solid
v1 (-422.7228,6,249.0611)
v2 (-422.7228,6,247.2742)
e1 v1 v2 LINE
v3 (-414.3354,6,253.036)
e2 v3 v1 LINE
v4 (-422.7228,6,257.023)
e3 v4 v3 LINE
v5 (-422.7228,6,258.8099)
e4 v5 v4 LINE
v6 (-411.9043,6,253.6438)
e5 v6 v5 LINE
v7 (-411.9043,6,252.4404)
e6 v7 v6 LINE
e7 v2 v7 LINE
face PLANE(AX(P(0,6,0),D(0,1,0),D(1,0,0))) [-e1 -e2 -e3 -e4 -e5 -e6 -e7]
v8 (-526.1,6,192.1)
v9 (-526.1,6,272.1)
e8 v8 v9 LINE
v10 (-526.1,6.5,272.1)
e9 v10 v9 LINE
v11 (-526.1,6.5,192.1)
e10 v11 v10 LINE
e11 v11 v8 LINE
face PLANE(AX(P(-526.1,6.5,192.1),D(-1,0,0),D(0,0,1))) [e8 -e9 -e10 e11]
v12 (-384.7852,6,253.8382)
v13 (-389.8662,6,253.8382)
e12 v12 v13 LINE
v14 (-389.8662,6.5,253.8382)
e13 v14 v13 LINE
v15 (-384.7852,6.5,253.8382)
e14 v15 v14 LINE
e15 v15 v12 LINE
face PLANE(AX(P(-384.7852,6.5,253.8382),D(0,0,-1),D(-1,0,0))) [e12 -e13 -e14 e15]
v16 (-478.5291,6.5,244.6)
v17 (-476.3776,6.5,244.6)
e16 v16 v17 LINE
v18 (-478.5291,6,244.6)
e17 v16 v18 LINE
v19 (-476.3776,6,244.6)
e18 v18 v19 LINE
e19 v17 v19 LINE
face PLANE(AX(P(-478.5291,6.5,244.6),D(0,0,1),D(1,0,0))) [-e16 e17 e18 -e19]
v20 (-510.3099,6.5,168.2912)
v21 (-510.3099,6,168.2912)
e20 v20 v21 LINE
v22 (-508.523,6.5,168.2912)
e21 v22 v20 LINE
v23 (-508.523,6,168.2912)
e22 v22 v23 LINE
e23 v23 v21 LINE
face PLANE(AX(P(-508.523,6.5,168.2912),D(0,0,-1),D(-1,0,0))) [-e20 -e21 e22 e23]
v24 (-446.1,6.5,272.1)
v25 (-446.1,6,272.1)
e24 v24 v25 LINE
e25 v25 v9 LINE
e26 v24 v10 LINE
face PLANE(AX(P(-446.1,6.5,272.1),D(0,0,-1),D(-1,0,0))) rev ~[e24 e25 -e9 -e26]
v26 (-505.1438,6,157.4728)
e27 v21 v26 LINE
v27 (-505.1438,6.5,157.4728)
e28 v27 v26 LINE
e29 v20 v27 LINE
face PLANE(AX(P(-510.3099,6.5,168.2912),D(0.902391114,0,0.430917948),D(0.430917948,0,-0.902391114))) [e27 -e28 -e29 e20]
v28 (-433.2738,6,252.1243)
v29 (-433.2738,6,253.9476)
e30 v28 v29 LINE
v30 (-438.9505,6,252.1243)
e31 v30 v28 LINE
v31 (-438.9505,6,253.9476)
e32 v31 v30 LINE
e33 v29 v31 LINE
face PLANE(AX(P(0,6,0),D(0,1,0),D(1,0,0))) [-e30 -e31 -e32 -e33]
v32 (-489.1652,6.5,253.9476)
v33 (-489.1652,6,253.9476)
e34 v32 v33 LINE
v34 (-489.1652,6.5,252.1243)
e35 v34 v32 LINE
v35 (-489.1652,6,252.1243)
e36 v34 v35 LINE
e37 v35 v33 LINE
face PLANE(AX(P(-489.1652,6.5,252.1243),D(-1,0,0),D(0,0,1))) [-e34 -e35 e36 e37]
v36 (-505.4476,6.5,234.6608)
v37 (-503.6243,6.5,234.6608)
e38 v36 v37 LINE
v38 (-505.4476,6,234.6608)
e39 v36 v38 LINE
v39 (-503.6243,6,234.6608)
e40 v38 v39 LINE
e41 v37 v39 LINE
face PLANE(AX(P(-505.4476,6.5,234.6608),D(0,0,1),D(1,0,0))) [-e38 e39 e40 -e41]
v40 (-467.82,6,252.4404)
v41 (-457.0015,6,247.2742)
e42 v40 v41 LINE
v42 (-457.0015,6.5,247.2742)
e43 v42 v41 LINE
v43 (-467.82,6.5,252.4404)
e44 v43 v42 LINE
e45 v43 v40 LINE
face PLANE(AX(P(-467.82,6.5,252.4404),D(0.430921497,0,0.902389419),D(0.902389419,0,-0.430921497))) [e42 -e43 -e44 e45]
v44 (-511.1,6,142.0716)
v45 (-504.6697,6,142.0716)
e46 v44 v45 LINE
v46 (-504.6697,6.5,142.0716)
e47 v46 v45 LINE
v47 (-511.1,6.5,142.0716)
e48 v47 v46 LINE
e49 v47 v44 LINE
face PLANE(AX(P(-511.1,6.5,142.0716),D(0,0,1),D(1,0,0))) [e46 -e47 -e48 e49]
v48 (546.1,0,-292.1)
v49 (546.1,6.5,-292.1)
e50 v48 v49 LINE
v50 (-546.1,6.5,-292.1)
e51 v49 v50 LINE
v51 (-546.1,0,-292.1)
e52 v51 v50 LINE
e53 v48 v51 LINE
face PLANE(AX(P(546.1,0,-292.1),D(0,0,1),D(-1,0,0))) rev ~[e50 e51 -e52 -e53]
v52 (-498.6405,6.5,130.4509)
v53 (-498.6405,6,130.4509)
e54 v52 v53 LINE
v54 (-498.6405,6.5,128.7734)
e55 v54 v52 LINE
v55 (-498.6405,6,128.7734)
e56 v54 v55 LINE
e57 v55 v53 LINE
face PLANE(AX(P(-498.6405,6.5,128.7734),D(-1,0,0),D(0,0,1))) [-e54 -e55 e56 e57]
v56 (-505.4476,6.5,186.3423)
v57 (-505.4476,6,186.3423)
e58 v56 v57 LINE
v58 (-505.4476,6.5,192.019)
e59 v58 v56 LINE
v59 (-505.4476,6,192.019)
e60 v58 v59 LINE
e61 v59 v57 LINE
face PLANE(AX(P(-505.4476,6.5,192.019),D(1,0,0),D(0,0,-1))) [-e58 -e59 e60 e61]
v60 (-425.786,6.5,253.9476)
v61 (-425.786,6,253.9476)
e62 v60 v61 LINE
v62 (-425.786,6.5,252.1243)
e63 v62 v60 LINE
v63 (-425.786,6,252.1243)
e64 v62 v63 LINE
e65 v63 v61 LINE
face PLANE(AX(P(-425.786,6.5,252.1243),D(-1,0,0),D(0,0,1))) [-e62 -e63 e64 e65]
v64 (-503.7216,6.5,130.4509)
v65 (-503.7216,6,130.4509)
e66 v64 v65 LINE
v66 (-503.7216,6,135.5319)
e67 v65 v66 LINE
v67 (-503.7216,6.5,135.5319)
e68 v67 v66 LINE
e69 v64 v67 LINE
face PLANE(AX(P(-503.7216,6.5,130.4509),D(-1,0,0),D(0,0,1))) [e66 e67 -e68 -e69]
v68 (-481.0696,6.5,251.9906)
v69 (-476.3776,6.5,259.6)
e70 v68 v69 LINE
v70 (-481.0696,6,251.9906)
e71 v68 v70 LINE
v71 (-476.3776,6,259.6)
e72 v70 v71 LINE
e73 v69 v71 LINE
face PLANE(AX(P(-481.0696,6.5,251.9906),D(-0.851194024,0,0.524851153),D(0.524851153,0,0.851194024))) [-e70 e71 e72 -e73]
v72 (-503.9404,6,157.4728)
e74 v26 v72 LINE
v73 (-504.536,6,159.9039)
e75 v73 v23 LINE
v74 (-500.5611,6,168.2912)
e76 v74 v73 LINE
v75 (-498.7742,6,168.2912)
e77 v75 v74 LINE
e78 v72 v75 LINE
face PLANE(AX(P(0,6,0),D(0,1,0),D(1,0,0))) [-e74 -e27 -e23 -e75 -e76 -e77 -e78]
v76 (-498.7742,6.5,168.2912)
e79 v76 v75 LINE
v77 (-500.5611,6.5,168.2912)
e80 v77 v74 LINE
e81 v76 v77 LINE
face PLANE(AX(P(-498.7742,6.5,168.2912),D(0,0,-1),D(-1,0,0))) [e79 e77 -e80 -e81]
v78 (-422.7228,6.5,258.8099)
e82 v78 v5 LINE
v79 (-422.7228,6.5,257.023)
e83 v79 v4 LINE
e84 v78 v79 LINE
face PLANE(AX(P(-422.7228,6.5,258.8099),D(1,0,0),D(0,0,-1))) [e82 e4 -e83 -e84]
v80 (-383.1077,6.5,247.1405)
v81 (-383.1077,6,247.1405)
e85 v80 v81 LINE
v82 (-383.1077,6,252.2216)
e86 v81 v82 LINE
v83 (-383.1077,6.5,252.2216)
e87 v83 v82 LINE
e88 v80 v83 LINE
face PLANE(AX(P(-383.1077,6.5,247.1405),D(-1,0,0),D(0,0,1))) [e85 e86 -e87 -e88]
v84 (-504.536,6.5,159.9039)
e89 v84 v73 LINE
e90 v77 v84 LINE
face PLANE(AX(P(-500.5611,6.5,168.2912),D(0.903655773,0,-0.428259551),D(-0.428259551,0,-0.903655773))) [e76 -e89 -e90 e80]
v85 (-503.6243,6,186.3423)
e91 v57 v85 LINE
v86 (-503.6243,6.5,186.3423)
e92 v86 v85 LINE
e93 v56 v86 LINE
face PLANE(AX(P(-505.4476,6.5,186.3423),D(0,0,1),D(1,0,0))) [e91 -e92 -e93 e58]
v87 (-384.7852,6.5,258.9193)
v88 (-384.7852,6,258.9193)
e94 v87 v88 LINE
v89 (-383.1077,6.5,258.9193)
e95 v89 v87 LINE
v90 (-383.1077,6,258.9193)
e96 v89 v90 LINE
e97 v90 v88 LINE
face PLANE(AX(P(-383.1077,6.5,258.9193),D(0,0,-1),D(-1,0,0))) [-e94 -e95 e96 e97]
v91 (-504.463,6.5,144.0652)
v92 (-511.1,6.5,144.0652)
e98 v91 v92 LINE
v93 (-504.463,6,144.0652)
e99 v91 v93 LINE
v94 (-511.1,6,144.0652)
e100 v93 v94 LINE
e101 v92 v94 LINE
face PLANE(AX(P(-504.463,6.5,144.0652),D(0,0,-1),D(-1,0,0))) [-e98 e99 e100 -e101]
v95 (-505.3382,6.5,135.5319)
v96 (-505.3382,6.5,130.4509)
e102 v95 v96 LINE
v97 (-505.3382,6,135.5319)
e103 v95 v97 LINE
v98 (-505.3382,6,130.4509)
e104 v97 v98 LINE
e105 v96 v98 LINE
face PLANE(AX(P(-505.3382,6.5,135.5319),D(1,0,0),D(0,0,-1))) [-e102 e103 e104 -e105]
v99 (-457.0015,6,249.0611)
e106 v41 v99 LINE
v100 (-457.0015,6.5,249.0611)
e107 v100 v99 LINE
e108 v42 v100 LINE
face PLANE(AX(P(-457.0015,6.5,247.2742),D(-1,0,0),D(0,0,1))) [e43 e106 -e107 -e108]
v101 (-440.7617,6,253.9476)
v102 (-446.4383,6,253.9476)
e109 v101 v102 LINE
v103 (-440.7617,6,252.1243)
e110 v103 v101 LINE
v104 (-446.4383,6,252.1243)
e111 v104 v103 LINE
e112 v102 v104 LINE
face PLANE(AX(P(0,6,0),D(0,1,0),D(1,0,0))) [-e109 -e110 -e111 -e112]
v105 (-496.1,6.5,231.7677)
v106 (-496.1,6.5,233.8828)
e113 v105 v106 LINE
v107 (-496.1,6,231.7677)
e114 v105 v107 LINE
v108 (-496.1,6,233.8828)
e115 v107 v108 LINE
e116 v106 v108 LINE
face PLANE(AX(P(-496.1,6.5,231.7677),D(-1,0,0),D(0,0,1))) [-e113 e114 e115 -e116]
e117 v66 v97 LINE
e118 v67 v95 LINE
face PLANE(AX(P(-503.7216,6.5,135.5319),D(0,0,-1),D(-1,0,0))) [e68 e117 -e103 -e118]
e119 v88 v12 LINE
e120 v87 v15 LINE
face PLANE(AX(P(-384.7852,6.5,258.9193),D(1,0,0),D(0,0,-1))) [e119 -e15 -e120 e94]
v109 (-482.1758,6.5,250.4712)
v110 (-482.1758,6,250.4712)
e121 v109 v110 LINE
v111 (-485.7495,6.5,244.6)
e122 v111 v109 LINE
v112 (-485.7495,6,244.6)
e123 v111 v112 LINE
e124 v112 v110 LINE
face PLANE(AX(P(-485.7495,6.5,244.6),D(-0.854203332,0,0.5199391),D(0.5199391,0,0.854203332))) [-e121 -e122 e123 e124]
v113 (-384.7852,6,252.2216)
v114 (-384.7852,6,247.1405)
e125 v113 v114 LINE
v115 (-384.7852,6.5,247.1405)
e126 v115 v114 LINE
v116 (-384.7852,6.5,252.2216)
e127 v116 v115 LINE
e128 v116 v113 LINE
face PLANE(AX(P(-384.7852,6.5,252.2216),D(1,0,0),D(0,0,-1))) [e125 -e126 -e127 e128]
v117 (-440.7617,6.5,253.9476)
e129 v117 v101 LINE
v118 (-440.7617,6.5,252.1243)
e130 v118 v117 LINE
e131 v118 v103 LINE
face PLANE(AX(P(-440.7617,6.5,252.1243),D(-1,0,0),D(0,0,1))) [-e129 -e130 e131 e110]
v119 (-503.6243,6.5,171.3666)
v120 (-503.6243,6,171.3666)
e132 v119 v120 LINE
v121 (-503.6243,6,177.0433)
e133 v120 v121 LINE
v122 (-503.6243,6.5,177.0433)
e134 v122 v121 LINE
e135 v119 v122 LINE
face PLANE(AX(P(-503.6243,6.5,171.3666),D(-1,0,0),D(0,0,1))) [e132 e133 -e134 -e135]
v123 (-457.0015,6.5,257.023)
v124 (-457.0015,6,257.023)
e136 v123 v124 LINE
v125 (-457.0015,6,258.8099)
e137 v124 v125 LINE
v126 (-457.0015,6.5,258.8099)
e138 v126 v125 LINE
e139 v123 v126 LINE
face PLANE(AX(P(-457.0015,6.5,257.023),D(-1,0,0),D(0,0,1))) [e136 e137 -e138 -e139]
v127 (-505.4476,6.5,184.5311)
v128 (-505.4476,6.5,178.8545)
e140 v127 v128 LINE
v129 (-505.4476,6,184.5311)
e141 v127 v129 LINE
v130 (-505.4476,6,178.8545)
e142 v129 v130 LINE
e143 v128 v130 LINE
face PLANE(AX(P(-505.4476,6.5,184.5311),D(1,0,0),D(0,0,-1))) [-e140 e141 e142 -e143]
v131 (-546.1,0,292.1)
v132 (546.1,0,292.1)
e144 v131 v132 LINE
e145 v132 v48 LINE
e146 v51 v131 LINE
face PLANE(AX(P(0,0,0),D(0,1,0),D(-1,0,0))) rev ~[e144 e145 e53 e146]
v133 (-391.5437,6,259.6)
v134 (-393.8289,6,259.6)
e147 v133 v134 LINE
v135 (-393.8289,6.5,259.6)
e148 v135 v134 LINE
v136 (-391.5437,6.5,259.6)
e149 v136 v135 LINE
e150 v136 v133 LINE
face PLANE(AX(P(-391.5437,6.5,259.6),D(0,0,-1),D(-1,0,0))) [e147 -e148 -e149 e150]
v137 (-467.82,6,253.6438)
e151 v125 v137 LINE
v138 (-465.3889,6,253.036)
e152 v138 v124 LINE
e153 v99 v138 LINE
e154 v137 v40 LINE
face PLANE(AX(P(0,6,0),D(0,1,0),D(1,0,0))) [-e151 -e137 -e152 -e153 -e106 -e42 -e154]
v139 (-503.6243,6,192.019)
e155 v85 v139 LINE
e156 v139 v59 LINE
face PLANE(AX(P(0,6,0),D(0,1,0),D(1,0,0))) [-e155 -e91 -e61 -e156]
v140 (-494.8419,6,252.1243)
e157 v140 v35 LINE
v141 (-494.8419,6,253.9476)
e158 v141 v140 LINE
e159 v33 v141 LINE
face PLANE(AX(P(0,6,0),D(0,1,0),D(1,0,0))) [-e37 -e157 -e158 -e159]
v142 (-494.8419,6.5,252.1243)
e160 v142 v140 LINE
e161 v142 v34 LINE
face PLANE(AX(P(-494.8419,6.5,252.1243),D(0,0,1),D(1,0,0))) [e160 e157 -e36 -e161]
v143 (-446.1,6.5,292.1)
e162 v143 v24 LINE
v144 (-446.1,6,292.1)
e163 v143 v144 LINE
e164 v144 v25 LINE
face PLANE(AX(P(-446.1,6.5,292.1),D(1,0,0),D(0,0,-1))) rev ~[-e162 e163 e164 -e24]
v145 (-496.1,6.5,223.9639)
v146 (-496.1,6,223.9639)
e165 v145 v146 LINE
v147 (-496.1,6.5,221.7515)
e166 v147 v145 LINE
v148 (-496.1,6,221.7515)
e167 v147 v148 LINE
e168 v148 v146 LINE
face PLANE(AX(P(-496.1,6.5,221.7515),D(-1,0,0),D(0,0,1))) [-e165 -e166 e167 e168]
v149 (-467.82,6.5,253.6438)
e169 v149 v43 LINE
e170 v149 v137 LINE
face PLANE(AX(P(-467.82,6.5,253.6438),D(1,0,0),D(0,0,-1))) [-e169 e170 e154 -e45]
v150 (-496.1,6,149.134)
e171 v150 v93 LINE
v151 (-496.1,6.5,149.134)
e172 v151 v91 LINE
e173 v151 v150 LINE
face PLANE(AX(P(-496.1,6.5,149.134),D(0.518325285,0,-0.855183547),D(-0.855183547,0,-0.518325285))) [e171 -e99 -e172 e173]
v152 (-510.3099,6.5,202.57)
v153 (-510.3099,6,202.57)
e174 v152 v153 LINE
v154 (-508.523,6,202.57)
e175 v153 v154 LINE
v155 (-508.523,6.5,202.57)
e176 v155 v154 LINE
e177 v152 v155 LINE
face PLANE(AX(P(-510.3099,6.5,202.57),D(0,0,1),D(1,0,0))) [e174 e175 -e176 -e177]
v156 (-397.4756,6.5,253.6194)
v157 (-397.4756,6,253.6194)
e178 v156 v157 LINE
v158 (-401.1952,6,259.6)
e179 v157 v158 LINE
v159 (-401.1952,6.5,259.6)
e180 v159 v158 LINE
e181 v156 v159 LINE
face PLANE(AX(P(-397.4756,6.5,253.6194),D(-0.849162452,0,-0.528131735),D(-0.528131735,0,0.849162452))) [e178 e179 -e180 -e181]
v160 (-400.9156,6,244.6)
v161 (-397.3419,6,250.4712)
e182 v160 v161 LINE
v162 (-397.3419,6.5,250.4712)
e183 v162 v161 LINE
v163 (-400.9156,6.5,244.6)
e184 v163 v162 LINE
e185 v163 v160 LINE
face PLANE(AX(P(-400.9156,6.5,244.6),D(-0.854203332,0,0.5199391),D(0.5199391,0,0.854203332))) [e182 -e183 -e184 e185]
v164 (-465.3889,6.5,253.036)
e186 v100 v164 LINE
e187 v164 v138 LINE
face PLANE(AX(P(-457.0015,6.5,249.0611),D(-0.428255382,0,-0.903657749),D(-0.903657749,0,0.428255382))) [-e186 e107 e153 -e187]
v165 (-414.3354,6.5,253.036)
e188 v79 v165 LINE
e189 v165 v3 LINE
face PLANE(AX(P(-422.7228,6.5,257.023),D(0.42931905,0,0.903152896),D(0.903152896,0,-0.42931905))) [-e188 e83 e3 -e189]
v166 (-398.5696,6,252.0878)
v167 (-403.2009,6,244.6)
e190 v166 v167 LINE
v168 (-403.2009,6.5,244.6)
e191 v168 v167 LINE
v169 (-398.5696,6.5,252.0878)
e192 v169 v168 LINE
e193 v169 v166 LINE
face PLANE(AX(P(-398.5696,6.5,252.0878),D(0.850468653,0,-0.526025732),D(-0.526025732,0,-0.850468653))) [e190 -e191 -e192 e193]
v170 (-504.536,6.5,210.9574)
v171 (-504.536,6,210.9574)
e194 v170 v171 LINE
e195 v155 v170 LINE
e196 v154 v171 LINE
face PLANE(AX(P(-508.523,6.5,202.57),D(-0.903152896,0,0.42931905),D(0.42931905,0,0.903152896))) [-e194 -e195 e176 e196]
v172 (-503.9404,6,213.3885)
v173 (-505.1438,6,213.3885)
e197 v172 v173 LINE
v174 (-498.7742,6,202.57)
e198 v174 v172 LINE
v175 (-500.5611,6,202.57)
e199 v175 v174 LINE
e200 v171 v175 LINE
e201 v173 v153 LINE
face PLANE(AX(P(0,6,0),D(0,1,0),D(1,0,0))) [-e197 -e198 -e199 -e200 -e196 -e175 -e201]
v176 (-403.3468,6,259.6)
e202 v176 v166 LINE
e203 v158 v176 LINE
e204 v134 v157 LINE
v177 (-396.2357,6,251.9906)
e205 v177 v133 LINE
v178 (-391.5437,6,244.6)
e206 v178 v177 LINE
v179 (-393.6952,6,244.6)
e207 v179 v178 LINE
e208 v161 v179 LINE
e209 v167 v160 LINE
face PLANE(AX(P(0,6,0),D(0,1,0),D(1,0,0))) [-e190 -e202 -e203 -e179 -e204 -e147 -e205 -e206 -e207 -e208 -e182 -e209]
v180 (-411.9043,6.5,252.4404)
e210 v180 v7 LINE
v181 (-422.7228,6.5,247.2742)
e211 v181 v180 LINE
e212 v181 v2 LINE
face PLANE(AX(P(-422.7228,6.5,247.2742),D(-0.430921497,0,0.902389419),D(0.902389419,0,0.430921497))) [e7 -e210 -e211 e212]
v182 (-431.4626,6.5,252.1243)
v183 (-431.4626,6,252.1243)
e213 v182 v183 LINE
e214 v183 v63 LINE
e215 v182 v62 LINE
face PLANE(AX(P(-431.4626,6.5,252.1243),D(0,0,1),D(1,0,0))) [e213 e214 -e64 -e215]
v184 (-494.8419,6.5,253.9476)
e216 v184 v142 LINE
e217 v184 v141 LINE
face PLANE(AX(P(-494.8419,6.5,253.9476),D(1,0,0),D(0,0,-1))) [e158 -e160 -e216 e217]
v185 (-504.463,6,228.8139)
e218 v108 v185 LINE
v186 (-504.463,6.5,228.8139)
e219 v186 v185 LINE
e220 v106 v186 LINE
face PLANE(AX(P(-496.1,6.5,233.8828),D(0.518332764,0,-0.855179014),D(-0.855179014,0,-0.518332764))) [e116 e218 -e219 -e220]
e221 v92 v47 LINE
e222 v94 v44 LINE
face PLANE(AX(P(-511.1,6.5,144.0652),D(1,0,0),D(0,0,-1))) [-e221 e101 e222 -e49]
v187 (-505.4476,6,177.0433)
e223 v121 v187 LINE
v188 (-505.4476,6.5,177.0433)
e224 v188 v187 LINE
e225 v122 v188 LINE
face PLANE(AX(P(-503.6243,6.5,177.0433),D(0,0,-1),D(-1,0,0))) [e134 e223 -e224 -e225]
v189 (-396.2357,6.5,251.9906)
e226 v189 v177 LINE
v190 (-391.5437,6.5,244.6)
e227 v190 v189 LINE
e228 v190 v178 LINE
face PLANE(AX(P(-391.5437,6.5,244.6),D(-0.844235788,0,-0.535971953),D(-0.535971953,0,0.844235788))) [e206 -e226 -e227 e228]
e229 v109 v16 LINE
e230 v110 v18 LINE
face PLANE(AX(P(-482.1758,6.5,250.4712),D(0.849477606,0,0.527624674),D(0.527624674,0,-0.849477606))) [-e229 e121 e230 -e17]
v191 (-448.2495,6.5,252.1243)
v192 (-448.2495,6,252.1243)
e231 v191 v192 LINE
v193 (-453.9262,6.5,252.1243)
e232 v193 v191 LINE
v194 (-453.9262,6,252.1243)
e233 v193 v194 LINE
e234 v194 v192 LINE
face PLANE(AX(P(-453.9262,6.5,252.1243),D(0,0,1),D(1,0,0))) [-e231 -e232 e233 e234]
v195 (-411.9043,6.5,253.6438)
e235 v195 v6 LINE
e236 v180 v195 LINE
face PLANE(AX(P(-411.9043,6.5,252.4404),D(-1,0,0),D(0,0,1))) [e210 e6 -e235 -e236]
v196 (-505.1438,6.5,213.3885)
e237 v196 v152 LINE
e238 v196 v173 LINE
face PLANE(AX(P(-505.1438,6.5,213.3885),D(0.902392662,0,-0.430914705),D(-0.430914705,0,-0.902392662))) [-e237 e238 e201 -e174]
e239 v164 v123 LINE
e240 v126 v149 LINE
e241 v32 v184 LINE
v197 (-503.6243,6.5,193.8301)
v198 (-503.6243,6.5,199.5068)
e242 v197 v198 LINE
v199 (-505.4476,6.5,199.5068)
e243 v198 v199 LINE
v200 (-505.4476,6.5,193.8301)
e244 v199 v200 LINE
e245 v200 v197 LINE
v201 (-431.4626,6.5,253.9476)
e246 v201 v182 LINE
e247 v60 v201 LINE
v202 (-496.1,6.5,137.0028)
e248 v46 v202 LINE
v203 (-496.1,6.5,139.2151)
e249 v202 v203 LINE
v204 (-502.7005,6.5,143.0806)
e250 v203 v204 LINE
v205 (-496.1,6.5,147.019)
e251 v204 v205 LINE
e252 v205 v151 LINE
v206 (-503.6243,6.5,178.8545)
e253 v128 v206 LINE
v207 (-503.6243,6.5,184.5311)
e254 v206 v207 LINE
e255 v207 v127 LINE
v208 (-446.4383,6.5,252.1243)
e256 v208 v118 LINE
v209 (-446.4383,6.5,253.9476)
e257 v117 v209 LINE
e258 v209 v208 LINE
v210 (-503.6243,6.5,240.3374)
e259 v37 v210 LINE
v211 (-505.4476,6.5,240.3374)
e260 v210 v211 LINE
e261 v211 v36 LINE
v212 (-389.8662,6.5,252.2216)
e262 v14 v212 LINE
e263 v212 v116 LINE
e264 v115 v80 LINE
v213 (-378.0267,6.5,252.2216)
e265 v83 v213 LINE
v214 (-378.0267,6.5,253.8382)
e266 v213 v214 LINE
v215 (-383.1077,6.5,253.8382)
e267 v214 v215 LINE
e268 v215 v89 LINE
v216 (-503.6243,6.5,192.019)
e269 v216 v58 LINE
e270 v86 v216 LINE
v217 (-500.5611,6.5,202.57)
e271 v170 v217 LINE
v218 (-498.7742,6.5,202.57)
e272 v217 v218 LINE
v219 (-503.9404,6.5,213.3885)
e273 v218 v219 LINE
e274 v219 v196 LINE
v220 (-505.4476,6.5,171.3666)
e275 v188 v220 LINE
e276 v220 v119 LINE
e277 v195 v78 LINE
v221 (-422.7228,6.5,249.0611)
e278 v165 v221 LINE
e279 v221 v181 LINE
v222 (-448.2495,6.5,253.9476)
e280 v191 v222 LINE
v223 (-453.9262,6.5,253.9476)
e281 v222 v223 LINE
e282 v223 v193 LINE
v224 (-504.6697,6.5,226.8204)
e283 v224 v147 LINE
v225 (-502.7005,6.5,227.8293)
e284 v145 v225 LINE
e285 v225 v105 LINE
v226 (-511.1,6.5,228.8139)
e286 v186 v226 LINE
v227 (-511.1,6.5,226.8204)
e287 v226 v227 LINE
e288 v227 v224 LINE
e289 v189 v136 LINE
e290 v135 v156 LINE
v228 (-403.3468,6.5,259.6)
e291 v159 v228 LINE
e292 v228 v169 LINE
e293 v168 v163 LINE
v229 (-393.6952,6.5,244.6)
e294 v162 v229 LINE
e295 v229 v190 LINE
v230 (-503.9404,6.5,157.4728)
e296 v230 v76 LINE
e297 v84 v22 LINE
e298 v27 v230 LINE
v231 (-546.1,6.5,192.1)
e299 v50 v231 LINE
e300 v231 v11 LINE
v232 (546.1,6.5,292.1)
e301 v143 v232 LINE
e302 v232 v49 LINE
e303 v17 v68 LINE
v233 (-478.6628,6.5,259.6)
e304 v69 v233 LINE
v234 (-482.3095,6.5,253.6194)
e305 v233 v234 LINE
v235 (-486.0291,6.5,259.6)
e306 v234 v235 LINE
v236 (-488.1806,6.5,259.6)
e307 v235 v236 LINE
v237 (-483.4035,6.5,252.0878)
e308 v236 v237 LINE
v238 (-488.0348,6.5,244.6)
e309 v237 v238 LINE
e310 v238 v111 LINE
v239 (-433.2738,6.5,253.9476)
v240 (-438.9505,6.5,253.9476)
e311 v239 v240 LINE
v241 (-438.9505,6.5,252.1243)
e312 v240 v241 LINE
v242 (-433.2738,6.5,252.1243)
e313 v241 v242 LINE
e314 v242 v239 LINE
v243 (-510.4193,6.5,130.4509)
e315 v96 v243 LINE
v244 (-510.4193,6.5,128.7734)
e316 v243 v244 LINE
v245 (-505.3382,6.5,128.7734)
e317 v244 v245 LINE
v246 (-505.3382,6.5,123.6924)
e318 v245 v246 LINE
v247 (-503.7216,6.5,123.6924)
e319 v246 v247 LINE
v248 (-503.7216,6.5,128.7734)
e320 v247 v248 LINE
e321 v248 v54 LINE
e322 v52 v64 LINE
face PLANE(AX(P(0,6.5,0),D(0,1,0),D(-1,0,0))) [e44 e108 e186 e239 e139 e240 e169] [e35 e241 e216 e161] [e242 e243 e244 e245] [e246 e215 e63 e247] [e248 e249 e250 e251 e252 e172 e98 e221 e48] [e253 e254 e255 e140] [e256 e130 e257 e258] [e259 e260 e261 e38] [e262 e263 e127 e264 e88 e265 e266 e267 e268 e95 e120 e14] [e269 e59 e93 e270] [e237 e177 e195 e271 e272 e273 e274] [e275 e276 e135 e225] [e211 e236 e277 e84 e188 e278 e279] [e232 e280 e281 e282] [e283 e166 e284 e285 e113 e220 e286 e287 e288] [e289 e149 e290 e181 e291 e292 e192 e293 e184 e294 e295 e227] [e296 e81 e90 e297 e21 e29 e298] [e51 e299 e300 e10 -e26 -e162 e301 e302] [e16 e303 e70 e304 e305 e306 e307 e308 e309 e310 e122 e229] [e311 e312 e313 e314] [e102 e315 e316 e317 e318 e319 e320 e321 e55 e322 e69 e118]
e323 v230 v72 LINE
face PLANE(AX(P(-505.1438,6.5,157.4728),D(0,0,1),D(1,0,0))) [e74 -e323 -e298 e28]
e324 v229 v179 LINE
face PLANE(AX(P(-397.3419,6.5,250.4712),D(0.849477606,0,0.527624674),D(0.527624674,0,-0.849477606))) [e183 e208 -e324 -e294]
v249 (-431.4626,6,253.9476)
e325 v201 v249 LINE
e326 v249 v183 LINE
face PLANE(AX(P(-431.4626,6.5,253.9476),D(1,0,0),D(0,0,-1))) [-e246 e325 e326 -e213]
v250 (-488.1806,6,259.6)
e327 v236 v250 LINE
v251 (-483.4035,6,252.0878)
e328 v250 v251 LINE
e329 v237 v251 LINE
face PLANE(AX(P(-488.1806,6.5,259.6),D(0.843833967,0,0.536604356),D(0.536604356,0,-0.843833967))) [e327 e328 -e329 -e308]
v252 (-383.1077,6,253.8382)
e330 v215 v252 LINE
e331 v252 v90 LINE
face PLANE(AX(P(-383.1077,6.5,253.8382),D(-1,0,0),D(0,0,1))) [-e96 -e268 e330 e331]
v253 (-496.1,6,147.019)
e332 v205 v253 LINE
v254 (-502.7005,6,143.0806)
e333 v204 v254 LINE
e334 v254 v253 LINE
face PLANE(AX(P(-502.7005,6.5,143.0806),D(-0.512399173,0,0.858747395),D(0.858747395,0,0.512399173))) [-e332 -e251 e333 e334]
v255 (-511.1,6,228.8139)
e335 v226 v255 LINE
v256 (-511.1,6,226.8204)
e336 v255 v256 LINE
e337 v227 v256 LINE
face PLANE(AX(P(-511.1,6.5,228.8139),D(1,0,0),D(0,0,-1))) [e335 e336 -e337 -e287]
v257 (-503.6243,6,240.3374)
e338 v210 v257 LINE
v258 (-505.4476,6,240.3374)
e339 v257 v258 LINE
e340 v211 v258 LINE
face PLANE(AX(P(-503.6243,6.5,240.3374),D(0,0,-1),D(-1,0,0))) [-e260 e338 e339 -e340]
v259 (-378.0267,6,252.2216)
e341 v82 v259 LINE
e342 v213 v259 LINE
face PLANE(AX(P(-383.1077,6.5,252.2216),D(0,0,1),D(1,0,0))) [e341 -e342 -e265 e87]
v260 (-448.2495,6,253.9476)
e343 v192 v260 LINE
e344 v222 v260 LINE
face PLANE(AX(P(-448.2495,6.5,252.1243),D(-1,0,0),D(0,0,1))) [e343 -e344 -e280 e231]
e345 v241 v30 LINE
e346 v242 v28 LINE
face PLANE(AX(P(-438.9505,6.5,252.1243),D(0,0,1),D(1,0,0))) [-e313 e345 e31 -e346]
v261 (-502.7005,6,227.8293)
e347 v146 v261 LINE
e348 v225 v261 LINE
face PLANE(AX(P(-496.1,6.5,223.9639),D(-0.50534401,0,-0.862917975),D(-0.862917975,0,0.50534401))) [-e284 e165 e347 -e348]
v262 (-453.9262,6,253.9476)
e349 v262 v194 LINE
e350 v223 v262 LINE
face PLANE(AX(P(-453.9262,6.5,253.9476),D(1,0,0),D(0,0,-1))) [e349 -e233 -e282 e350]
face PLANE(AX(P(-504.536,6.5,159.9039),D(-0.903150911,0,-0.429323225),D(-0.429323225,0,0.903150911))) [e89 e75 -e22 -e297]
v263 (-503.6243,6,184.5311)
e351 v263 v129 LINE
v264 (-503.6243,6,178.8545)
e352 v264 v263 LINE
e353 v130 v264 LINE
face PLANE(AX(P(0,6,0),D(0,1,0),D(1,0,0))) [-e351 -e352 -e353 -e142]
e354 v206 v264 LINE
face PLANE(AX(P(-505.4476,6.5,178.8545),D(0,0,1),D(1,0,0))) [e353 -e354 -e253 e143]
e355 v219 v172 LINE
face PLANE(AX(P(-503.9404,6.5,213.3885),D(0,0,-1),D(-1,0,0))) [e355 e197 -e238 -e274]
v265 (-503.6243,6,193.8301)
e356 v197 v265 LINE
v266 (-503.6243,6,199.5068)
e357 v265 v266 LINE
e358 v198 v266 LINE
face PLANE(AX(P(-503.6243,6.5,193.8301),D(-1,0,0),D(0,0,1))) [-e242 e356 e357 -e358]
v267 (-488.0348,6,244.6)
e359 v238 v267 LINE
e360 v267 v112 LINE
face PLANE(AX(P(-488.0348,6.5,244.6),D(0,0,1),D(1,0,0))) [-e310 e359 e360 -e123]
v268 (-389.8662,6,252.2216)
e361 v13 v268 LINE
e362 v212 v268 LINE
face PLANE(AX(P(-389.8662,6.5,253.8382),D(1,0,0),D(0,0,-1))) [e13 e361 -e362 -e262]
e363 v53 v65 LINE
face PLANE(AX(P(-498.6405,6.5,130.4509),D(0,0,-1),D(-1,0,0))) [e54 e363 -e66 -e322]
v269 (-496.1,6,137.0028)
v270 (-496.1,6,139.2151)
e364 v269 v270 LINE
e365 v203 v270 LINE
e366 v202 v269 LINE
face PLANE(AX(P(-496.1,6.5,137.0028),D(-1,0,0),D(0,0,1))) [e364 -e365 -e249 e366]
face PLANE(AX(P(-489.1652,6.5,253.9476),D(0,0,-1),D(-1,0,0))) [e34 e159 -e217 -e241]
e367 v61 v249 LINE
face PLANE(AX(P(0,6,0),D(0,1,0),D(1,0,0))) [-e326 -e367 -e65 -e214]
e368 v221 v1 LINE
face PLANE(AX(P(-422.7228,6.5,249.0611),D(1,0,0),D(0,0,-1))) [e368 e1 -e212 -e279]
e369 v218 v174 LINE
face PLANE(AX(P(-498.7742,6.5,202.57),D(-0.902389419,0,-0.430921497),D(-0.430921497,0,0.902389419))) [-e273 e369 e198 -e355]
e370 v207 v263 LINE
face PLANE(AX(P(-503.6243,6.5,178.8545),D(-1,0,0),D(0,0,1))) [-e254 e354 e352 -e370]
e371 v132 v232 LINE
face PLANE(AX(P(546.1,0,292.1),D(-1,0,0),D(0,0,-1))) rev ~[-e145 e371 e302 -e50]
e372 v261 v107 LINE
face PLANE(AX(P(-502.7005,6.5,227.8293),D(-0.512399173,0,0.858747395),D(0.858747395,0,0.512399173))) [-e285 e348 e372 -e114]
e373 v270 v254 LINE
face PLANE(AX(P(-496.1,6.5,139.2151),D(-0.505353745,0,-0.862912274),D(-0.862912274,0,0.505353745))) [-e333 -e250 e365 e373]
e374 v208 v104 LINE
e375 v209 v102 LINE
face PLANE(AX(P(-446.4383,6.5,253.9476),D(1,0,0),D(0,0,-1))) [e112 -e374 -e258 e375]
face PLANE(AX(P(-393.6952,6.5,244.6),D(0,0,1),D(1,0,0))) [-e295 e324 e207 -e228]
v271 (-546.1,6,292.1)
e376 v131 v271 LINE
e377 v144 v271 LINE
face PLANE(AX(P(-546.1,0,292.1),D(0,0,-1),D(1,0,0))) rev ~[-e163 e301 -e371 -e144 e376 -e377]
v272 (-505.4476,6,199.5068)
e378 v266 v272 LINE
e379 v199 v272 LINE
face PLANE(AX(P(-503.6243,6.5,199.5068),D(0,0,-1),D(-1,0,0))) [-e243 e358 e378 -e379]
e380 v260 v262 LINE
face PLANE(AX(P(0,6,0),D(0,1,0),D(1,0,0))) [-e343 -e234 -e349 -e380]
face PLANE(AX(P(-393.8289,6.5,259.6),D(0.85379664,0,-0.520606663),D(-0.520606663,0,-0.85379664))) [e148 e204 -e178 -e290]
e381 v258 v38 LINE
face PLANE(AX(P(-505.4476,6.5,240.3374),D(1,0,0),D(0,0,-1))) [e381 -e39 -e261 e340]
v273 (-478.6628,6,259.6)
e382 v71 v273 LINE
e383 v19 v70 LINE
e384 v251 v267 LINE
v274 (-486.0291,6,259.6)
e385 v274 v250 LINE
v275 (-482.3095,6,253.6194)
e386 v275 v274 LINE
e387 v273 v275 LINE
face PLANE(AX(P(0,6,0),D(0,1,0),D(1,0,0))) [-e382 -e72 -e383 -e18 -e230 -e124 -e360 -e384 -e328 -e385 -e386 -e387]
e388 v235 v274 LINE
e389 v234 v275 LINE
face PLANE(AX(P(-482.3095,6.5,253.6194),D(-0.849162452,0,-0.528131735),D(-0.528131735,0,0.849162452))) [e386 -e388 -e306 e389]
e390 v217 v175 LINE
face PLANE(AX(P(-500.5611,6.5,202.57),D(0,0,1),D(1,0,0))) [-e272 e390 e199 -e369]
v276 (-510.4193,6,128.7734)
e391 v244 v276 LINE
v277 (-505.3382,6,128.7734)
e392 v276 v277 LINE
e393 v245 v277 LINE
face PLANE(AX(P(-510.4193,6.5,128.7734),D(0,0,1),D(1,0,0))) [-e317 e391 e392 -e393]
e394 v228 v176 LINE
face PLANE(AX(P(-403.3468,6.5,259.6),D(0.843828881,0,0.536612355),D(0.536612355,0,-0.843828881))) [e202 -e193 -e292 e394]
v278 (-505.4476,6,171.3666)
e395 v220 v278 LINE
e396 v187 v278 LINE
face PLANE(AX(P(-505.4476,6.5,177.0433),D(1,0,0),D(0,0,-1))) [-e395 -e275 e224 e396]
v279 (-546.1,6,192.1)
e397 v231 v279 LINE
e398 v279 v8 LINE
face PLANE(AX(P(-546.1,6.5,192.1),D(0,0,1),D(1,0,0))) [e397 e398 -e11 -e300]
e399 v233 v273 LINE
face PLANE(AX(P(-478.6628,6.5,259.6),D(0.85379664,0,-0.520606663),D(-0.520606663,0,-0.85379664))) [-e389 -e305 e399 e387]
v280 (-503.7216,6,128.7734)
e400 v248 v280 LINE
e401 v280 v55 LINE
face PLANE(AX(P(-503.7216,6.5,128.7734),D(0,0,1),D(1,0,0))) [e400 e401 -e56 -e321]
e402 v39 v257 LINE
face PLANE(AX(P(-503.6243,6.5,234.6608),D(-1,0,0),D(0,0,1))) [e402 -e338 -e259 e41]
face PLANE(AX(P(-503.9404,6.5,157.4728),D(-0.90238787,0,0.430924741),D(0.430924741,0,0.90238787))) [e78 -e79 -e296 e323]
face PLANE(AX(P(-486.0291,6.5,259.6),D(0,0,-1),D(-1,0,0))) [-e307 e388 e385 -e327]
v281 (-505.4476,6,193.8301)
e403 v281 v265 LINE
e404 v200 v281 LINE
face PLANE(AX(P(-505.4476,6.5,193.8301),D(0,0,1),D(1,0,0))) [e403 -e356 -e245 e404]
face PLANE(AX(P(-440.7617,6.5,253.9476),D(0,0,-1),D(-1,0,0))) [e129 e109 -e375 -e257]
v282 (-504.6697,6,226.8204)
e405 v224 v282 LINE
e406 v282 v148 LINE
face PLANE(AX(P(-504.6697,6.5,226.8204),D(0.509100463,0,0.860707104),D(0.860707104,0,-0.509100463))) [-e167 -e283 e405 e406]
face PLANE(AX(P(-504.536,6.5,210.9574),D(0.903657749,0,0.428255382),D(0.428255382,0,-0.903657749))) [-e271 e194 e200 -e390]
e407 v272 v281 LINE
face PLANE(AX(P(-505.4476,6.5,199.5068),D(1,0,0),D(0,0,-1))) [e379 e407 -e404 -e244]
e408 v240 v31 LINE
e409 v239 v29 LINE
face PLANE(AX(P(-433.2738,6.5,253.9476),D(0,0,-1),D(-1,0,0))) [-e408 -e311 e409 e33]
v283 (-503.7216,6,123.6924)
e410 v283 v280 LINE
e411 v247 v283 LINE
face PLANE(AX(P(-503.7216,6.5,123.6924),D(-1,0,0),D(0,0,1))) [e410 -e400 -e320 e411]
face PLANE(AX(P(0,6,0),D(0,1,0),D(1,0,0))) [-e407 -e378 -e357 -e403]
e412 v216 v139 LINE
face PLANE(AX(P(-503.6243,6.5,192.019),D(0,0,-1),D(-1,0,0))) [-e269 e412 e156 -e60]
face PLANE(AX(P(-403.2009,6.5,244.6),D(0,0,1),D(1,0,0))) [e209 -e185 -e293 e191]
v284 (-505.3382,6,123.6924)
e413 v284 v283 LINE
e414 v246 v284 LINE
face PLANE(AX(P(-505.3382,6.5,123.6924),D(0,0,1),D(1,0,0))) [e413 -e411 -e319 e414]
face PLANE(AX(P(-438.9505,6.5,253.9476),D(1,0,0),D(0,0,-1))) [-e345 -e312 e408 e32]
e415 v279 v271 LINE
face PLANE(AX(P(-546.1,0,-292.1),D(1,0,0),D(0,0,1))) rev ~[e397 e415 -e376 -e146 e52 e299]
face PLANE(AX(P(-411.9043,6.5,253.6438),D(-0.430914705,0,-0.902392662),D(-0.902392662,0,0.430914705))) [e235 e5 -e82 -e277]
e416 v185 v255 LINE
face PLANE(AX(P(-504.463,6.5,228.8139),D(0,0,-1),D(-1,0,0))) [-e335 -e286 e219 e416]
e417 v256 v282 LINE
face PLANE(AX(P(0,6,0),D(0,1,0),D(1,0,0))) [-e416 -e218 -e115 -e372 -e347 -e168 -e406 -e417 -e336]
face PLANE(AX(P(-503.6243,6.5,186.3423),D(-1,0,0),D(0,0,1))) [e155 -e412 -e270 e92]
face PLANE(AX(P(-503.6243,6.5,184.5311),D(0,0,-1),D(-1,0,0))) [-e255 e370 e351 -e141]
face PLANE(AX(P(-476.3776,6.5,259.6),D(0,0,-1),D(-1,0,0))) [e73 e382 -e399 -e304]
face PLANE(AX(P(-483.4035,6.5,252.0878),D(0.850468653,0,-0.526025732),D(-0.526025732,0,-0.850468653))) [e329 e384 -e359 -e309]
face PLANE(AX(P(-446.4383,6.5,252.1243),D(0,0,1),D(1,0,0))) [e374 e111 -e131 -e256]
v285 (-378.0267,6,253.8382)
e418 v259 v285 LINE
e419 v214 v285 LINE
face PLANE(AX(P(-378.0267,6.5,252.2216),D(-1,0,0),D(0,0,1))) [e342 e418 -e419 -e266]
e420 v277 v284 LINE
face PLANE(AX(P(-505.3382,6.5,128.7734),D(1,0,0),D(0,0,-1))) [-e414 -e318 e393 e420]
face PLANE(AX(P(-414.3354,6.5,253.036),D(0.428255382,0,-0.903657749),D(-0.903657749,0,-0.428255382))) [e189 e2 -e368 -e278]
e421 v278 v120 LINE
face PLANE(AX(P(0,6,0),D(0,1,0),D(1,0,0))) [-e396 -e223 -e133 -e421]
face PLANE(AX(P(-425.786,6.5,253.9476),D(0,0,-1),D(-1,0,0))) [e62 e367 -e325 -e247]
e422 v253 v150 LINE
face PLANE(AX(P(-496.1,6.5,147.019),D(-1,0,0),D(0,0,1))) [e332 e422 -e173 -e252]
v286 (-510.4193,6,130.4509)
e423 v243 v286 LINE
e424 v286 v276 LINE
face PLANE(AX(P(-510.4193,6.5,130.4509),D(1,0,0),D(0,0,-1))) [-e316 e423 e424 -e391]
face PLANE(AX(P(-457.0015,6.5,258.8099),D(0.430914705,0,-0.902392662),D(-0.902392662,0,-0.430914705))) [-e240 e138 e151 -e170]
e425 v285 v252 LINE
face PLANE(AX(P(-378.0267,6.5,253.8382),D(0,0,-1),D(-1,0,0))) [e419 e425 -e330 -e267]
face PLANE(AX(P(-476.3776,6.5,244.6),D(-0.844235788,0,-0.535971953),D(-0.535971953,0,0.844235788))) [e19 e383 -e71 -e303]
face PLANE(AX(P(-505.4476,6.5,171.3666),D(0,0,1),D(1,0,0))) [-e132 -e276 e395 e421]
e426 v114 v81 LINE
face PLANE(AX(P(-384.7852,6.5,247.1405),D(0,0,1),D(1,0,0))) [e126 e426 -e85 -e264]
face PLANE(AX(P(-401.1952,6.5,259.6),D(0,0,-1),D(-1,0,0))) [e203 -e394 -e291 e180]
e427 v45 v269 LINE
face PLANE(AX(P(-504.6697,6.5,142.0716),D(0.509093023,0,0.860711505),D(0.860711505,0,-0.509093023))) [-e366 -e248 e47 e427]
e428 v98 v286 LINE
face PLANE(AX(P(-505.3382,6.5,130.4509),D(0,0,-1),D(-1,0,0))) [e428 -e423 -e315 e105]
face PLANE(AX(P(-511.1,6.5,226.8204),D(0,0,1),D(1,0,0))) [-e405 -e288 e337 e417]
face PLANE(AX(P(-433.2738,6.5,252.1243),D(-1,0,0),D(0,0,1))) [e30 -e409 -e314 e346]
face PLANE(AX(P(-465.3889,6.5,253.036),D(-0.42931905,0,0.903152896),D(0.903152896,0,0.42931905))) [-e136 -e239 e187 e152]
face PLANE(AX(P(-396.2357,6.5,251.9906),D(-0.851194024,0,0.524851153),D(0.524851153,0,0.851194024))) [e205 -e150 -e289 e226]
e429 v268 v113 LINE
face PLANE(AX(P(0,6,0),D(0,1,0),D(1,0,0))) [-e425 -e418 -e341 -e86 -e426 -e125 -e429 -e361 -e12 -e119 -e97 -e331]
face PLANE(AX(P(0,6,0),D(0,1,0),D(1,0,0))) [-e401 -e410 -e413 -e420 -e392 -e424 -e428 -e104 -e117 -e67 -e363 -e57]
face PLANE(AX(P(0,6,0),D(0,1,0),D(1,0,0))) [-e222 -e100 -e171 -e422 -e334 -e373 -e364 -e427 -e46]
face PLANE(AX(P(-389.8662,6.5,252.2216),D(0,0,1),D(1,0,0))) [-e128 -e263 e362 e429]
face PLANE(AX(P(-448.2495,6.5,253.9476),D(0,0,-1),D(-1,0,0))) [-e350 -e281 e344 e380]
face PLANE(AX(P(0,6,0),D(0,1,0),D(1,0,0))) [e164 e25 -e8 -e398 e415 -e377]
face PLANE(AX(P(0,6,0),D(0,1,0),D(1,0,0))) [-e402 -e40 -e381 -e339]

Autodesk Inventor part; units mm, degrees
ref_plane "YZ Plane" through (0, 0, 0) normal (1, 0, 0) x (0, 1, 0)
ref_plane "XZ Plane" through (0, 0, 0) normal (0, 1, 0) x (-1, 0, 0)
ref_plane "XY Plane" through (0, 0, 0) normal (0, 0, 1) x (1, 0, 0)
sketch "Sketch1" plane through (0, 0, 0) normal (0, 1, 0) x (-1, 0, 0)
  line L0 (-546.1, -292.1) -> (546.1, -292.1)
  line L1 (546.1, -292.1) -> (546.1, 292.1)
  line L2 (546.1, 292.1) -> (-546.1, 292.1)
  line L3 (-546.1, 292.1) -> (-546.1, -292.1)
  line L4 (-546.1, -292.1) -> (546.1, 292.1) construction
  line L5 (546.1, -292.1) -> (-546.1, 292.1) construction
  point P0 (0, 0)
  dimension "d0" = 1092.2
  dimension "d1" = 584.2
extrude "Extrusion1" add sketch "Sketch1" along normal blind 6.5
sketch "Sketch2" plane through (0, 6.5, 0) normal (0, 1, 0) x (1, 0, 0)
  line L0 (-546.1, 292.1) -> (-546.1, -292.1) projected
  line L1 (-546.1, -192.1) -> (-526.1, -192.1)
  line L2 (-526.1, -192.1) -> (-526.1, -292.1)
  line L3 (-526.1, -292.1) -> (-446.1, -292.1)
  line L4 (-446.1, -292.1) -> (-446.1, -272.1)
  line L5 (-446.1, -272.1) -> (-526.1, -272.1)
  line L6 (-526.1, -292.1) -> (-546.1, -292.1)
  line L7 (-546.1, -292.1) -> (-546.1, -192.1)
  line L8 (-496.1, -242.1) -> (-376.1, -242.1) construction
  line L9 (-376.1, -242.1) -> (-376.1, -262.1) construction
  line L10 (-376.1, -262.1) -> (-496.1, -262.1) construction
  line L11 (-496.1, -262.1) -> (-496.1, -242.1) construction
  line L12 (-496.1, -122.1) -> (-496.1, -242.1) construction
  line L13 (-496.1, -242.1) -> (-516.1, -242.1) construction
  line L14 (-516.1, -242.1) -> (-516.1, -122.1) construction
  line L15 (-516.1, -122.1) -> (-496.1, -122.1) construction
  line L16 (-505.3382, -135.5319) -> (-505.3382, -130.4509)
  line L17 (-505.3382, -130.4509) -> (-510.4193, -130.4509)
  line L18 (-510.4193, -130.4509) -> (-510.4193, -128.7734)
  line L19 (-510.4193, -128.7734) -> (-505.3382, -128.7734)
  line L20 (-505.3382, -128.7734) -> (-505.3382, -123.6924)
  line L21 (-505.3382, -123.6924) -> (-503.7216, -123.6924)
  line L22 (-503.7216, -123.6924) -> (-503.7216, -128.7734)
  line L23 (-503.7216, -128.7734) -> (-498.6405, -128.7734)
  line L24 (-498.6405, -128.7734) -> (-498.6405, -130.4509)
  line L25 (-498.6405, -130.4509) -> (-503.7216, -130.4509)
  line L26 (-503.7216, -130.4509) -> (-503.7216, -135.5319)
  line L27 (-503.7216, -135.5319) -> (-505.3382, -135.5319)
  line L28 (-496.1, -149.134) -> (-504.463, -144.0652)
  line L29 (-504.463, -144.0652) -> (-511.1, -144.0652)
  line L30 (-511.1, -144.0652) -> (-511.1, -142.0716)
  line L31 (-511.1, -142.0716) -> (-504.6697, -142.0716)
  line L32 (-504.6697, -142.0716) -> (-496.1, -137.0028)
  line L33 (-496.1, -137.0028) -> (-496.1, -139.2151)
  line L34 (-496.1, -139.2151) -> (-502.7005, -143.0806)
  line L35 (-502.7005, -143.0806) -> (-496.1, -147.019)
  line L36 (-496.1, -147.019) -> (-496.1, -149.134)
  line L37 (-510.3099, -168.2912) -> (-505.1438, -157.4728)
  line L38 (-505.1438, -157.4728) -> (-503.9404, -157.4728)
  line L39 (-503.9404, -157.4728) -> (-498.7742, -168.2912)
  line L40 (-498.7742, -168.2912) -> (-500.5611, -168.2912)
  line L41 (-500.5611, -168.2912) -> (-504.536, -159.9039)
  line L42 (-504.536, -159.9039) -> (-508.523, -168.2912)
  line L43 (-508.523, -168.2912) -> (-510.3099, -168.2912)
  line L44 (-505.4476, -177.0433) -> (-505.4476, -171.3666)
  line L45 (-505.4476, -171.3666) -> (-503.6243, -171.3666)
  line L46 (-503.6243, -171.3666) -> (-503.6243, -177.0433)
  line L47 (-503.6243, -177.0433) -> (-505.4476, -177.0433)
  line L48 (-505.4476, -184.5311) -> (-505.4476, -178.8545)
  line L49 (-505.4476, -178.8545) -> (-503.6243, -178.8545)
  line L50 (-503.6243, -178.8545) -> (-503.6243, -184.5311)
  line L51 (-503.6243, -184.5311) -> (-505.4476, -184.5311)
  line L52 (-505.4476, -192.019) -> (-505.4476, -186.3423)
  line L53 (-505.4476, -186.3423) -> (-503.6243, -186.3423)
  line L54 (-503.6243, -186.3423) -> (-503.6243, -192.019)
  line L55 (-503.6243, -192.019) -> (-505.4476, -192.019)
  line L56 (-505.4476, -199.5068) -> (-505.4476, -193.8301)
  line L57 (-505.4476, -193.8301) -> (-503.6243, -193.8301)
  line L58 (-503.6243, -193.8301) -> (-503.6243, -199.5068)
  line L59 (-503.6243, -199.5068) -> (-505.4476, -199.5068)
  line L60 (-505.1438, -213.3885) -> (-510.3099, -202.57)
  line L61 (-510.3099, -202.57) -> (-508.523, -202.57)
  line L62 (-508.523, -202.57) -> (-504.536, -210.9574)
  line L63 (-504.536, -210.9574) -> (-500.5611, -202.57)
  line L64 (-500.5611, -202.57) -> (-498.7742, -202.57)
  line L65 (-498.7742, -202.57) -> (-503.9404, -213.3885)
  line L66 (-503.9404, -213.3885) -> (-505.1438, -213.3885)
  line L67 (-496.1, -233.8828) -> (-504.463, -228.8139)
  line L68 (-504.463, -228.8139) -> (-511.1, -228.8139)
  line L69 (-511.1, -228.8139) -> (-511.1, -226.8204)
  line L70 (-511.1, -226.8204) -> (-504.6697, -226.8204)
  line L71 (-504.6697, -226.8204) -> (-496.1, -221.7515)
  line L72 (-496.1, -221.7515) -> (-496.1, -223.9639)
  line L73 (-496.1, -223.9639) -> (-502.7005, -227.8293)
  line L74 (-502.7005, -227.8293) -> (-496.1, -231.7677)
  line L75 (-496.1, -231.7677) -> (-496.1, -233.8828)
  line L76 (-505.4476, -240.3374) -> (-505.4476, -234.6608)
  line L77 (-505.4476, -234.6608) -> (-503.6243, -234.6608)
  line L78 (-503.6243, -234.6608) -> (-503.6243, -240.3374)
  line L79 (-503.6243, -240.3374) -> (-505.4476, -240.3374)
  line L80 (-489.1652, -253.9476) -> (-494.8419, -253.9476)
  line L81 (-494.8419, -253.9476) -> (-494.8419, -252.1243)
  line L82 (-494.8419, -252.1243) -> (-489.1652, -252.1243)
  line L83 (-489.1652, -252.1243) -> (-489.1652, -253.9476)
  line L84 (-476.3776, -259.6) -> (-478.6628, -259.6)
  line L85 (-478.6628, -259.6) -> (-482.3095, -253.6194)
  line L86 (-482.3095, -253.6194) -> (-486.0291, -259.6)
  line L87 (-486.0291, -259.6) -> (-488.1806, -259.6)
  line L88 (-488.1806, -259.6) -> (-483.4035, -252.0878)
  line L89 (-483.4035, -252.0878) -> (-488.0348, -244.6)
  line L90 (-488.0348, -244.6) -> (-485.7495, -244.6)
  line L91 (-485.7495, -244.6) -> (-482.1758, -250.4712)
  line L92 (-482.1758, -250.4712) -> (-478.5291, -244.6)
  line L93 (-478.5291, -244.6) -> (-476.3776, -244.6)
  line L94 (-476.3776, -244.6) -> (-481.0696, -251.9906)
  line L95 (-481.0696, -251.9906) -> (-476.3776, -259.6)
  line L96 (-457.0015, -258.8099) -> (-467.82, -253.6438)
  line L97 (-467.82, -253.6438) -> (-467.82, -252.4404)
  line L98 (-467.82, -252.4404) -> (-457.0015, -247.2742)
  line L99 (-457.0015, -247.2742) -> (-457.0015, -249.0611)
  line L100 (-457.0015, -249.0611) -> (-465.3889, -253.036)
  line L101 (-465.3889, -253.036) -> (-457.0015, -257.023)
  line L102 (-457.0015, -257.023) -> (-457.0015, -258.8099)
  line L103 (-448.2495, -253.9476) -> (-453.9262, -253.9476)
  line L104 (-453.9262, -253.9476) -> (-453.9262, -252.1243)
  line L105 (-453.9262, -252.1243) -> (-448.2495, -252.1243)
  line L106 (-448.2495, -252.1243) -> (-448.2495, -253.9476)
  line L107 (-440.7617, -253.9476) -> (-446.4383, -253.9476)
  line L108 (-446.4383, -253.9476) -> (-446.4383, -252.1243)
  line L109 (-446.4383, -252.1243) -> (-440.7617, -252.1243)
  line L110 (-440.7617, -252.1243) -> (-440.7617, -253.9476)
  line L111 (-433.2738, -253.9476) -> (-438.9505, -253.9476)
  line L112 (-438.9505, -253.9476) -> (-438.9505, -252.1243)
  line L113 (-438.9505, -252.1243) -> (-433.2738, -252.1243)
  line L114 (-433.2738, -252.1243) -> (-433.2738, -253.9476)
  line L115 (-425.786, -253.9476) -> (-431.4626, -253.9476)
  line L116 (-431.4626, -253.9476) -> (-431.4626, -252.1243)
  line L117 (-431.4626, -252.1243) -> (-425.786, -252.1243)
  line L118 (-425.786, -252.1243) -> (-425.786, -253.9476)
  line L119 (-411.9043, -253.6438) -> (-422.7228, -258.8099)
  line L120 (-422.7228, -258.8099) -> (-422.7228, -257.023)
  line L121 (-422.7228, -257.023) -> (-414.3354, -253.036)
  line L122 (-414.3354, -253.036) -> (-422.7228, -249.0611)
  line L123 (-422.7228, -249.0611) -> (-422.7228, -247.2742)
  line L124 (-422.7228, -247.2742) -> (-411.9043, -252.4404)
  line L125 (-411.9043, -252.4404) -> (-411.9043, -253.6438)
  line L126 (-391.5437, -259.6) -> (-393.8289, -259.6)
  line L127 (-393.8289, -259.6) -> (-397.4756, -253.6194)
  line L128 (-397.4756, -253.6194) -> (-401.1952, -259.6)
  line L129 (-401.1952, -259.6) -> (-403.3468, -259.6)
  line L130 (-403.3468, -259.6) -> (-398.5696, -252.0878)
  line L131 (-398.5696, -252.0878) -> (-403.2009, -244.6)
  line L132 (-403.2009, -244.6) -> (-400.9156, -244.6)
  line L133 (-400.9156, -244.6) -> (-397.3419, -250.4712)
  line L134 (-397.3419, -250.4712) -> (-393.6952, -244.6)
  line L135 (-393.6952, -244.6) -> (-391.5437, -244.6)
  line L136 (-391.5437, -244.6) -> (-396.2357, -251.9906)
  line L137 (-396.2357, -251.9906) -> (-391.5437, -259.6)
  line L138 (-378.0267, -253.8382) -> (-383.1077, -253.8382)
  line L139 (-383.1077, -253.8382) -> (-383.1077, -258.9193)
  line L140 (-383.1077, -258.9193) -> (-384.7852, -258.9193)
  line L141 (-384.7852, -258.9193) -> (-384.7852, -253.8382)
  line L142 (-384.7852, -253.8382) -> (-389.8662, -253.8382)
  line L143 (-389.8662, -253.8382) -> (-389.8662, -252.2216)
  line L144 (-389.8662, -252.2216) -> (-384.7852, -252.2216)
  line L145 (-384.7852, -252.2216) -> (-384.7852, -247.1405)
  line L146 (-384.7852, -247.1405) -> (-383.1077, -247.1405)
  line L147 (-383.1077, -247.1405) -> (-383.1077, -252.2216)
  line L148 (-383.1077, -252.2216) -> (-378.0267, -252.2216)
  line L149 (-378.0267, -252.2216) -> (-378.0267, -253.8382)
  point P0 (0, 0)
  dimension "d4" = 20
  dimension "d5" = 20
  dimension "d6" = 100
  dimension "d7" = 100
  dimension "d8" = 120
  dimension "d9" = 120
  dimension "d10" = 20
  dimension "d11" = 20
  dimension "d12" = 10
  dimension "d13" = 10
  dimension "d14" = 30
  dimension "d15" = 30
extrude "Extrusion2" cut sketch "Sketch2" against normal blind 0.5
equation "\"d5\" = d4"
properties part number "Base Plate"
